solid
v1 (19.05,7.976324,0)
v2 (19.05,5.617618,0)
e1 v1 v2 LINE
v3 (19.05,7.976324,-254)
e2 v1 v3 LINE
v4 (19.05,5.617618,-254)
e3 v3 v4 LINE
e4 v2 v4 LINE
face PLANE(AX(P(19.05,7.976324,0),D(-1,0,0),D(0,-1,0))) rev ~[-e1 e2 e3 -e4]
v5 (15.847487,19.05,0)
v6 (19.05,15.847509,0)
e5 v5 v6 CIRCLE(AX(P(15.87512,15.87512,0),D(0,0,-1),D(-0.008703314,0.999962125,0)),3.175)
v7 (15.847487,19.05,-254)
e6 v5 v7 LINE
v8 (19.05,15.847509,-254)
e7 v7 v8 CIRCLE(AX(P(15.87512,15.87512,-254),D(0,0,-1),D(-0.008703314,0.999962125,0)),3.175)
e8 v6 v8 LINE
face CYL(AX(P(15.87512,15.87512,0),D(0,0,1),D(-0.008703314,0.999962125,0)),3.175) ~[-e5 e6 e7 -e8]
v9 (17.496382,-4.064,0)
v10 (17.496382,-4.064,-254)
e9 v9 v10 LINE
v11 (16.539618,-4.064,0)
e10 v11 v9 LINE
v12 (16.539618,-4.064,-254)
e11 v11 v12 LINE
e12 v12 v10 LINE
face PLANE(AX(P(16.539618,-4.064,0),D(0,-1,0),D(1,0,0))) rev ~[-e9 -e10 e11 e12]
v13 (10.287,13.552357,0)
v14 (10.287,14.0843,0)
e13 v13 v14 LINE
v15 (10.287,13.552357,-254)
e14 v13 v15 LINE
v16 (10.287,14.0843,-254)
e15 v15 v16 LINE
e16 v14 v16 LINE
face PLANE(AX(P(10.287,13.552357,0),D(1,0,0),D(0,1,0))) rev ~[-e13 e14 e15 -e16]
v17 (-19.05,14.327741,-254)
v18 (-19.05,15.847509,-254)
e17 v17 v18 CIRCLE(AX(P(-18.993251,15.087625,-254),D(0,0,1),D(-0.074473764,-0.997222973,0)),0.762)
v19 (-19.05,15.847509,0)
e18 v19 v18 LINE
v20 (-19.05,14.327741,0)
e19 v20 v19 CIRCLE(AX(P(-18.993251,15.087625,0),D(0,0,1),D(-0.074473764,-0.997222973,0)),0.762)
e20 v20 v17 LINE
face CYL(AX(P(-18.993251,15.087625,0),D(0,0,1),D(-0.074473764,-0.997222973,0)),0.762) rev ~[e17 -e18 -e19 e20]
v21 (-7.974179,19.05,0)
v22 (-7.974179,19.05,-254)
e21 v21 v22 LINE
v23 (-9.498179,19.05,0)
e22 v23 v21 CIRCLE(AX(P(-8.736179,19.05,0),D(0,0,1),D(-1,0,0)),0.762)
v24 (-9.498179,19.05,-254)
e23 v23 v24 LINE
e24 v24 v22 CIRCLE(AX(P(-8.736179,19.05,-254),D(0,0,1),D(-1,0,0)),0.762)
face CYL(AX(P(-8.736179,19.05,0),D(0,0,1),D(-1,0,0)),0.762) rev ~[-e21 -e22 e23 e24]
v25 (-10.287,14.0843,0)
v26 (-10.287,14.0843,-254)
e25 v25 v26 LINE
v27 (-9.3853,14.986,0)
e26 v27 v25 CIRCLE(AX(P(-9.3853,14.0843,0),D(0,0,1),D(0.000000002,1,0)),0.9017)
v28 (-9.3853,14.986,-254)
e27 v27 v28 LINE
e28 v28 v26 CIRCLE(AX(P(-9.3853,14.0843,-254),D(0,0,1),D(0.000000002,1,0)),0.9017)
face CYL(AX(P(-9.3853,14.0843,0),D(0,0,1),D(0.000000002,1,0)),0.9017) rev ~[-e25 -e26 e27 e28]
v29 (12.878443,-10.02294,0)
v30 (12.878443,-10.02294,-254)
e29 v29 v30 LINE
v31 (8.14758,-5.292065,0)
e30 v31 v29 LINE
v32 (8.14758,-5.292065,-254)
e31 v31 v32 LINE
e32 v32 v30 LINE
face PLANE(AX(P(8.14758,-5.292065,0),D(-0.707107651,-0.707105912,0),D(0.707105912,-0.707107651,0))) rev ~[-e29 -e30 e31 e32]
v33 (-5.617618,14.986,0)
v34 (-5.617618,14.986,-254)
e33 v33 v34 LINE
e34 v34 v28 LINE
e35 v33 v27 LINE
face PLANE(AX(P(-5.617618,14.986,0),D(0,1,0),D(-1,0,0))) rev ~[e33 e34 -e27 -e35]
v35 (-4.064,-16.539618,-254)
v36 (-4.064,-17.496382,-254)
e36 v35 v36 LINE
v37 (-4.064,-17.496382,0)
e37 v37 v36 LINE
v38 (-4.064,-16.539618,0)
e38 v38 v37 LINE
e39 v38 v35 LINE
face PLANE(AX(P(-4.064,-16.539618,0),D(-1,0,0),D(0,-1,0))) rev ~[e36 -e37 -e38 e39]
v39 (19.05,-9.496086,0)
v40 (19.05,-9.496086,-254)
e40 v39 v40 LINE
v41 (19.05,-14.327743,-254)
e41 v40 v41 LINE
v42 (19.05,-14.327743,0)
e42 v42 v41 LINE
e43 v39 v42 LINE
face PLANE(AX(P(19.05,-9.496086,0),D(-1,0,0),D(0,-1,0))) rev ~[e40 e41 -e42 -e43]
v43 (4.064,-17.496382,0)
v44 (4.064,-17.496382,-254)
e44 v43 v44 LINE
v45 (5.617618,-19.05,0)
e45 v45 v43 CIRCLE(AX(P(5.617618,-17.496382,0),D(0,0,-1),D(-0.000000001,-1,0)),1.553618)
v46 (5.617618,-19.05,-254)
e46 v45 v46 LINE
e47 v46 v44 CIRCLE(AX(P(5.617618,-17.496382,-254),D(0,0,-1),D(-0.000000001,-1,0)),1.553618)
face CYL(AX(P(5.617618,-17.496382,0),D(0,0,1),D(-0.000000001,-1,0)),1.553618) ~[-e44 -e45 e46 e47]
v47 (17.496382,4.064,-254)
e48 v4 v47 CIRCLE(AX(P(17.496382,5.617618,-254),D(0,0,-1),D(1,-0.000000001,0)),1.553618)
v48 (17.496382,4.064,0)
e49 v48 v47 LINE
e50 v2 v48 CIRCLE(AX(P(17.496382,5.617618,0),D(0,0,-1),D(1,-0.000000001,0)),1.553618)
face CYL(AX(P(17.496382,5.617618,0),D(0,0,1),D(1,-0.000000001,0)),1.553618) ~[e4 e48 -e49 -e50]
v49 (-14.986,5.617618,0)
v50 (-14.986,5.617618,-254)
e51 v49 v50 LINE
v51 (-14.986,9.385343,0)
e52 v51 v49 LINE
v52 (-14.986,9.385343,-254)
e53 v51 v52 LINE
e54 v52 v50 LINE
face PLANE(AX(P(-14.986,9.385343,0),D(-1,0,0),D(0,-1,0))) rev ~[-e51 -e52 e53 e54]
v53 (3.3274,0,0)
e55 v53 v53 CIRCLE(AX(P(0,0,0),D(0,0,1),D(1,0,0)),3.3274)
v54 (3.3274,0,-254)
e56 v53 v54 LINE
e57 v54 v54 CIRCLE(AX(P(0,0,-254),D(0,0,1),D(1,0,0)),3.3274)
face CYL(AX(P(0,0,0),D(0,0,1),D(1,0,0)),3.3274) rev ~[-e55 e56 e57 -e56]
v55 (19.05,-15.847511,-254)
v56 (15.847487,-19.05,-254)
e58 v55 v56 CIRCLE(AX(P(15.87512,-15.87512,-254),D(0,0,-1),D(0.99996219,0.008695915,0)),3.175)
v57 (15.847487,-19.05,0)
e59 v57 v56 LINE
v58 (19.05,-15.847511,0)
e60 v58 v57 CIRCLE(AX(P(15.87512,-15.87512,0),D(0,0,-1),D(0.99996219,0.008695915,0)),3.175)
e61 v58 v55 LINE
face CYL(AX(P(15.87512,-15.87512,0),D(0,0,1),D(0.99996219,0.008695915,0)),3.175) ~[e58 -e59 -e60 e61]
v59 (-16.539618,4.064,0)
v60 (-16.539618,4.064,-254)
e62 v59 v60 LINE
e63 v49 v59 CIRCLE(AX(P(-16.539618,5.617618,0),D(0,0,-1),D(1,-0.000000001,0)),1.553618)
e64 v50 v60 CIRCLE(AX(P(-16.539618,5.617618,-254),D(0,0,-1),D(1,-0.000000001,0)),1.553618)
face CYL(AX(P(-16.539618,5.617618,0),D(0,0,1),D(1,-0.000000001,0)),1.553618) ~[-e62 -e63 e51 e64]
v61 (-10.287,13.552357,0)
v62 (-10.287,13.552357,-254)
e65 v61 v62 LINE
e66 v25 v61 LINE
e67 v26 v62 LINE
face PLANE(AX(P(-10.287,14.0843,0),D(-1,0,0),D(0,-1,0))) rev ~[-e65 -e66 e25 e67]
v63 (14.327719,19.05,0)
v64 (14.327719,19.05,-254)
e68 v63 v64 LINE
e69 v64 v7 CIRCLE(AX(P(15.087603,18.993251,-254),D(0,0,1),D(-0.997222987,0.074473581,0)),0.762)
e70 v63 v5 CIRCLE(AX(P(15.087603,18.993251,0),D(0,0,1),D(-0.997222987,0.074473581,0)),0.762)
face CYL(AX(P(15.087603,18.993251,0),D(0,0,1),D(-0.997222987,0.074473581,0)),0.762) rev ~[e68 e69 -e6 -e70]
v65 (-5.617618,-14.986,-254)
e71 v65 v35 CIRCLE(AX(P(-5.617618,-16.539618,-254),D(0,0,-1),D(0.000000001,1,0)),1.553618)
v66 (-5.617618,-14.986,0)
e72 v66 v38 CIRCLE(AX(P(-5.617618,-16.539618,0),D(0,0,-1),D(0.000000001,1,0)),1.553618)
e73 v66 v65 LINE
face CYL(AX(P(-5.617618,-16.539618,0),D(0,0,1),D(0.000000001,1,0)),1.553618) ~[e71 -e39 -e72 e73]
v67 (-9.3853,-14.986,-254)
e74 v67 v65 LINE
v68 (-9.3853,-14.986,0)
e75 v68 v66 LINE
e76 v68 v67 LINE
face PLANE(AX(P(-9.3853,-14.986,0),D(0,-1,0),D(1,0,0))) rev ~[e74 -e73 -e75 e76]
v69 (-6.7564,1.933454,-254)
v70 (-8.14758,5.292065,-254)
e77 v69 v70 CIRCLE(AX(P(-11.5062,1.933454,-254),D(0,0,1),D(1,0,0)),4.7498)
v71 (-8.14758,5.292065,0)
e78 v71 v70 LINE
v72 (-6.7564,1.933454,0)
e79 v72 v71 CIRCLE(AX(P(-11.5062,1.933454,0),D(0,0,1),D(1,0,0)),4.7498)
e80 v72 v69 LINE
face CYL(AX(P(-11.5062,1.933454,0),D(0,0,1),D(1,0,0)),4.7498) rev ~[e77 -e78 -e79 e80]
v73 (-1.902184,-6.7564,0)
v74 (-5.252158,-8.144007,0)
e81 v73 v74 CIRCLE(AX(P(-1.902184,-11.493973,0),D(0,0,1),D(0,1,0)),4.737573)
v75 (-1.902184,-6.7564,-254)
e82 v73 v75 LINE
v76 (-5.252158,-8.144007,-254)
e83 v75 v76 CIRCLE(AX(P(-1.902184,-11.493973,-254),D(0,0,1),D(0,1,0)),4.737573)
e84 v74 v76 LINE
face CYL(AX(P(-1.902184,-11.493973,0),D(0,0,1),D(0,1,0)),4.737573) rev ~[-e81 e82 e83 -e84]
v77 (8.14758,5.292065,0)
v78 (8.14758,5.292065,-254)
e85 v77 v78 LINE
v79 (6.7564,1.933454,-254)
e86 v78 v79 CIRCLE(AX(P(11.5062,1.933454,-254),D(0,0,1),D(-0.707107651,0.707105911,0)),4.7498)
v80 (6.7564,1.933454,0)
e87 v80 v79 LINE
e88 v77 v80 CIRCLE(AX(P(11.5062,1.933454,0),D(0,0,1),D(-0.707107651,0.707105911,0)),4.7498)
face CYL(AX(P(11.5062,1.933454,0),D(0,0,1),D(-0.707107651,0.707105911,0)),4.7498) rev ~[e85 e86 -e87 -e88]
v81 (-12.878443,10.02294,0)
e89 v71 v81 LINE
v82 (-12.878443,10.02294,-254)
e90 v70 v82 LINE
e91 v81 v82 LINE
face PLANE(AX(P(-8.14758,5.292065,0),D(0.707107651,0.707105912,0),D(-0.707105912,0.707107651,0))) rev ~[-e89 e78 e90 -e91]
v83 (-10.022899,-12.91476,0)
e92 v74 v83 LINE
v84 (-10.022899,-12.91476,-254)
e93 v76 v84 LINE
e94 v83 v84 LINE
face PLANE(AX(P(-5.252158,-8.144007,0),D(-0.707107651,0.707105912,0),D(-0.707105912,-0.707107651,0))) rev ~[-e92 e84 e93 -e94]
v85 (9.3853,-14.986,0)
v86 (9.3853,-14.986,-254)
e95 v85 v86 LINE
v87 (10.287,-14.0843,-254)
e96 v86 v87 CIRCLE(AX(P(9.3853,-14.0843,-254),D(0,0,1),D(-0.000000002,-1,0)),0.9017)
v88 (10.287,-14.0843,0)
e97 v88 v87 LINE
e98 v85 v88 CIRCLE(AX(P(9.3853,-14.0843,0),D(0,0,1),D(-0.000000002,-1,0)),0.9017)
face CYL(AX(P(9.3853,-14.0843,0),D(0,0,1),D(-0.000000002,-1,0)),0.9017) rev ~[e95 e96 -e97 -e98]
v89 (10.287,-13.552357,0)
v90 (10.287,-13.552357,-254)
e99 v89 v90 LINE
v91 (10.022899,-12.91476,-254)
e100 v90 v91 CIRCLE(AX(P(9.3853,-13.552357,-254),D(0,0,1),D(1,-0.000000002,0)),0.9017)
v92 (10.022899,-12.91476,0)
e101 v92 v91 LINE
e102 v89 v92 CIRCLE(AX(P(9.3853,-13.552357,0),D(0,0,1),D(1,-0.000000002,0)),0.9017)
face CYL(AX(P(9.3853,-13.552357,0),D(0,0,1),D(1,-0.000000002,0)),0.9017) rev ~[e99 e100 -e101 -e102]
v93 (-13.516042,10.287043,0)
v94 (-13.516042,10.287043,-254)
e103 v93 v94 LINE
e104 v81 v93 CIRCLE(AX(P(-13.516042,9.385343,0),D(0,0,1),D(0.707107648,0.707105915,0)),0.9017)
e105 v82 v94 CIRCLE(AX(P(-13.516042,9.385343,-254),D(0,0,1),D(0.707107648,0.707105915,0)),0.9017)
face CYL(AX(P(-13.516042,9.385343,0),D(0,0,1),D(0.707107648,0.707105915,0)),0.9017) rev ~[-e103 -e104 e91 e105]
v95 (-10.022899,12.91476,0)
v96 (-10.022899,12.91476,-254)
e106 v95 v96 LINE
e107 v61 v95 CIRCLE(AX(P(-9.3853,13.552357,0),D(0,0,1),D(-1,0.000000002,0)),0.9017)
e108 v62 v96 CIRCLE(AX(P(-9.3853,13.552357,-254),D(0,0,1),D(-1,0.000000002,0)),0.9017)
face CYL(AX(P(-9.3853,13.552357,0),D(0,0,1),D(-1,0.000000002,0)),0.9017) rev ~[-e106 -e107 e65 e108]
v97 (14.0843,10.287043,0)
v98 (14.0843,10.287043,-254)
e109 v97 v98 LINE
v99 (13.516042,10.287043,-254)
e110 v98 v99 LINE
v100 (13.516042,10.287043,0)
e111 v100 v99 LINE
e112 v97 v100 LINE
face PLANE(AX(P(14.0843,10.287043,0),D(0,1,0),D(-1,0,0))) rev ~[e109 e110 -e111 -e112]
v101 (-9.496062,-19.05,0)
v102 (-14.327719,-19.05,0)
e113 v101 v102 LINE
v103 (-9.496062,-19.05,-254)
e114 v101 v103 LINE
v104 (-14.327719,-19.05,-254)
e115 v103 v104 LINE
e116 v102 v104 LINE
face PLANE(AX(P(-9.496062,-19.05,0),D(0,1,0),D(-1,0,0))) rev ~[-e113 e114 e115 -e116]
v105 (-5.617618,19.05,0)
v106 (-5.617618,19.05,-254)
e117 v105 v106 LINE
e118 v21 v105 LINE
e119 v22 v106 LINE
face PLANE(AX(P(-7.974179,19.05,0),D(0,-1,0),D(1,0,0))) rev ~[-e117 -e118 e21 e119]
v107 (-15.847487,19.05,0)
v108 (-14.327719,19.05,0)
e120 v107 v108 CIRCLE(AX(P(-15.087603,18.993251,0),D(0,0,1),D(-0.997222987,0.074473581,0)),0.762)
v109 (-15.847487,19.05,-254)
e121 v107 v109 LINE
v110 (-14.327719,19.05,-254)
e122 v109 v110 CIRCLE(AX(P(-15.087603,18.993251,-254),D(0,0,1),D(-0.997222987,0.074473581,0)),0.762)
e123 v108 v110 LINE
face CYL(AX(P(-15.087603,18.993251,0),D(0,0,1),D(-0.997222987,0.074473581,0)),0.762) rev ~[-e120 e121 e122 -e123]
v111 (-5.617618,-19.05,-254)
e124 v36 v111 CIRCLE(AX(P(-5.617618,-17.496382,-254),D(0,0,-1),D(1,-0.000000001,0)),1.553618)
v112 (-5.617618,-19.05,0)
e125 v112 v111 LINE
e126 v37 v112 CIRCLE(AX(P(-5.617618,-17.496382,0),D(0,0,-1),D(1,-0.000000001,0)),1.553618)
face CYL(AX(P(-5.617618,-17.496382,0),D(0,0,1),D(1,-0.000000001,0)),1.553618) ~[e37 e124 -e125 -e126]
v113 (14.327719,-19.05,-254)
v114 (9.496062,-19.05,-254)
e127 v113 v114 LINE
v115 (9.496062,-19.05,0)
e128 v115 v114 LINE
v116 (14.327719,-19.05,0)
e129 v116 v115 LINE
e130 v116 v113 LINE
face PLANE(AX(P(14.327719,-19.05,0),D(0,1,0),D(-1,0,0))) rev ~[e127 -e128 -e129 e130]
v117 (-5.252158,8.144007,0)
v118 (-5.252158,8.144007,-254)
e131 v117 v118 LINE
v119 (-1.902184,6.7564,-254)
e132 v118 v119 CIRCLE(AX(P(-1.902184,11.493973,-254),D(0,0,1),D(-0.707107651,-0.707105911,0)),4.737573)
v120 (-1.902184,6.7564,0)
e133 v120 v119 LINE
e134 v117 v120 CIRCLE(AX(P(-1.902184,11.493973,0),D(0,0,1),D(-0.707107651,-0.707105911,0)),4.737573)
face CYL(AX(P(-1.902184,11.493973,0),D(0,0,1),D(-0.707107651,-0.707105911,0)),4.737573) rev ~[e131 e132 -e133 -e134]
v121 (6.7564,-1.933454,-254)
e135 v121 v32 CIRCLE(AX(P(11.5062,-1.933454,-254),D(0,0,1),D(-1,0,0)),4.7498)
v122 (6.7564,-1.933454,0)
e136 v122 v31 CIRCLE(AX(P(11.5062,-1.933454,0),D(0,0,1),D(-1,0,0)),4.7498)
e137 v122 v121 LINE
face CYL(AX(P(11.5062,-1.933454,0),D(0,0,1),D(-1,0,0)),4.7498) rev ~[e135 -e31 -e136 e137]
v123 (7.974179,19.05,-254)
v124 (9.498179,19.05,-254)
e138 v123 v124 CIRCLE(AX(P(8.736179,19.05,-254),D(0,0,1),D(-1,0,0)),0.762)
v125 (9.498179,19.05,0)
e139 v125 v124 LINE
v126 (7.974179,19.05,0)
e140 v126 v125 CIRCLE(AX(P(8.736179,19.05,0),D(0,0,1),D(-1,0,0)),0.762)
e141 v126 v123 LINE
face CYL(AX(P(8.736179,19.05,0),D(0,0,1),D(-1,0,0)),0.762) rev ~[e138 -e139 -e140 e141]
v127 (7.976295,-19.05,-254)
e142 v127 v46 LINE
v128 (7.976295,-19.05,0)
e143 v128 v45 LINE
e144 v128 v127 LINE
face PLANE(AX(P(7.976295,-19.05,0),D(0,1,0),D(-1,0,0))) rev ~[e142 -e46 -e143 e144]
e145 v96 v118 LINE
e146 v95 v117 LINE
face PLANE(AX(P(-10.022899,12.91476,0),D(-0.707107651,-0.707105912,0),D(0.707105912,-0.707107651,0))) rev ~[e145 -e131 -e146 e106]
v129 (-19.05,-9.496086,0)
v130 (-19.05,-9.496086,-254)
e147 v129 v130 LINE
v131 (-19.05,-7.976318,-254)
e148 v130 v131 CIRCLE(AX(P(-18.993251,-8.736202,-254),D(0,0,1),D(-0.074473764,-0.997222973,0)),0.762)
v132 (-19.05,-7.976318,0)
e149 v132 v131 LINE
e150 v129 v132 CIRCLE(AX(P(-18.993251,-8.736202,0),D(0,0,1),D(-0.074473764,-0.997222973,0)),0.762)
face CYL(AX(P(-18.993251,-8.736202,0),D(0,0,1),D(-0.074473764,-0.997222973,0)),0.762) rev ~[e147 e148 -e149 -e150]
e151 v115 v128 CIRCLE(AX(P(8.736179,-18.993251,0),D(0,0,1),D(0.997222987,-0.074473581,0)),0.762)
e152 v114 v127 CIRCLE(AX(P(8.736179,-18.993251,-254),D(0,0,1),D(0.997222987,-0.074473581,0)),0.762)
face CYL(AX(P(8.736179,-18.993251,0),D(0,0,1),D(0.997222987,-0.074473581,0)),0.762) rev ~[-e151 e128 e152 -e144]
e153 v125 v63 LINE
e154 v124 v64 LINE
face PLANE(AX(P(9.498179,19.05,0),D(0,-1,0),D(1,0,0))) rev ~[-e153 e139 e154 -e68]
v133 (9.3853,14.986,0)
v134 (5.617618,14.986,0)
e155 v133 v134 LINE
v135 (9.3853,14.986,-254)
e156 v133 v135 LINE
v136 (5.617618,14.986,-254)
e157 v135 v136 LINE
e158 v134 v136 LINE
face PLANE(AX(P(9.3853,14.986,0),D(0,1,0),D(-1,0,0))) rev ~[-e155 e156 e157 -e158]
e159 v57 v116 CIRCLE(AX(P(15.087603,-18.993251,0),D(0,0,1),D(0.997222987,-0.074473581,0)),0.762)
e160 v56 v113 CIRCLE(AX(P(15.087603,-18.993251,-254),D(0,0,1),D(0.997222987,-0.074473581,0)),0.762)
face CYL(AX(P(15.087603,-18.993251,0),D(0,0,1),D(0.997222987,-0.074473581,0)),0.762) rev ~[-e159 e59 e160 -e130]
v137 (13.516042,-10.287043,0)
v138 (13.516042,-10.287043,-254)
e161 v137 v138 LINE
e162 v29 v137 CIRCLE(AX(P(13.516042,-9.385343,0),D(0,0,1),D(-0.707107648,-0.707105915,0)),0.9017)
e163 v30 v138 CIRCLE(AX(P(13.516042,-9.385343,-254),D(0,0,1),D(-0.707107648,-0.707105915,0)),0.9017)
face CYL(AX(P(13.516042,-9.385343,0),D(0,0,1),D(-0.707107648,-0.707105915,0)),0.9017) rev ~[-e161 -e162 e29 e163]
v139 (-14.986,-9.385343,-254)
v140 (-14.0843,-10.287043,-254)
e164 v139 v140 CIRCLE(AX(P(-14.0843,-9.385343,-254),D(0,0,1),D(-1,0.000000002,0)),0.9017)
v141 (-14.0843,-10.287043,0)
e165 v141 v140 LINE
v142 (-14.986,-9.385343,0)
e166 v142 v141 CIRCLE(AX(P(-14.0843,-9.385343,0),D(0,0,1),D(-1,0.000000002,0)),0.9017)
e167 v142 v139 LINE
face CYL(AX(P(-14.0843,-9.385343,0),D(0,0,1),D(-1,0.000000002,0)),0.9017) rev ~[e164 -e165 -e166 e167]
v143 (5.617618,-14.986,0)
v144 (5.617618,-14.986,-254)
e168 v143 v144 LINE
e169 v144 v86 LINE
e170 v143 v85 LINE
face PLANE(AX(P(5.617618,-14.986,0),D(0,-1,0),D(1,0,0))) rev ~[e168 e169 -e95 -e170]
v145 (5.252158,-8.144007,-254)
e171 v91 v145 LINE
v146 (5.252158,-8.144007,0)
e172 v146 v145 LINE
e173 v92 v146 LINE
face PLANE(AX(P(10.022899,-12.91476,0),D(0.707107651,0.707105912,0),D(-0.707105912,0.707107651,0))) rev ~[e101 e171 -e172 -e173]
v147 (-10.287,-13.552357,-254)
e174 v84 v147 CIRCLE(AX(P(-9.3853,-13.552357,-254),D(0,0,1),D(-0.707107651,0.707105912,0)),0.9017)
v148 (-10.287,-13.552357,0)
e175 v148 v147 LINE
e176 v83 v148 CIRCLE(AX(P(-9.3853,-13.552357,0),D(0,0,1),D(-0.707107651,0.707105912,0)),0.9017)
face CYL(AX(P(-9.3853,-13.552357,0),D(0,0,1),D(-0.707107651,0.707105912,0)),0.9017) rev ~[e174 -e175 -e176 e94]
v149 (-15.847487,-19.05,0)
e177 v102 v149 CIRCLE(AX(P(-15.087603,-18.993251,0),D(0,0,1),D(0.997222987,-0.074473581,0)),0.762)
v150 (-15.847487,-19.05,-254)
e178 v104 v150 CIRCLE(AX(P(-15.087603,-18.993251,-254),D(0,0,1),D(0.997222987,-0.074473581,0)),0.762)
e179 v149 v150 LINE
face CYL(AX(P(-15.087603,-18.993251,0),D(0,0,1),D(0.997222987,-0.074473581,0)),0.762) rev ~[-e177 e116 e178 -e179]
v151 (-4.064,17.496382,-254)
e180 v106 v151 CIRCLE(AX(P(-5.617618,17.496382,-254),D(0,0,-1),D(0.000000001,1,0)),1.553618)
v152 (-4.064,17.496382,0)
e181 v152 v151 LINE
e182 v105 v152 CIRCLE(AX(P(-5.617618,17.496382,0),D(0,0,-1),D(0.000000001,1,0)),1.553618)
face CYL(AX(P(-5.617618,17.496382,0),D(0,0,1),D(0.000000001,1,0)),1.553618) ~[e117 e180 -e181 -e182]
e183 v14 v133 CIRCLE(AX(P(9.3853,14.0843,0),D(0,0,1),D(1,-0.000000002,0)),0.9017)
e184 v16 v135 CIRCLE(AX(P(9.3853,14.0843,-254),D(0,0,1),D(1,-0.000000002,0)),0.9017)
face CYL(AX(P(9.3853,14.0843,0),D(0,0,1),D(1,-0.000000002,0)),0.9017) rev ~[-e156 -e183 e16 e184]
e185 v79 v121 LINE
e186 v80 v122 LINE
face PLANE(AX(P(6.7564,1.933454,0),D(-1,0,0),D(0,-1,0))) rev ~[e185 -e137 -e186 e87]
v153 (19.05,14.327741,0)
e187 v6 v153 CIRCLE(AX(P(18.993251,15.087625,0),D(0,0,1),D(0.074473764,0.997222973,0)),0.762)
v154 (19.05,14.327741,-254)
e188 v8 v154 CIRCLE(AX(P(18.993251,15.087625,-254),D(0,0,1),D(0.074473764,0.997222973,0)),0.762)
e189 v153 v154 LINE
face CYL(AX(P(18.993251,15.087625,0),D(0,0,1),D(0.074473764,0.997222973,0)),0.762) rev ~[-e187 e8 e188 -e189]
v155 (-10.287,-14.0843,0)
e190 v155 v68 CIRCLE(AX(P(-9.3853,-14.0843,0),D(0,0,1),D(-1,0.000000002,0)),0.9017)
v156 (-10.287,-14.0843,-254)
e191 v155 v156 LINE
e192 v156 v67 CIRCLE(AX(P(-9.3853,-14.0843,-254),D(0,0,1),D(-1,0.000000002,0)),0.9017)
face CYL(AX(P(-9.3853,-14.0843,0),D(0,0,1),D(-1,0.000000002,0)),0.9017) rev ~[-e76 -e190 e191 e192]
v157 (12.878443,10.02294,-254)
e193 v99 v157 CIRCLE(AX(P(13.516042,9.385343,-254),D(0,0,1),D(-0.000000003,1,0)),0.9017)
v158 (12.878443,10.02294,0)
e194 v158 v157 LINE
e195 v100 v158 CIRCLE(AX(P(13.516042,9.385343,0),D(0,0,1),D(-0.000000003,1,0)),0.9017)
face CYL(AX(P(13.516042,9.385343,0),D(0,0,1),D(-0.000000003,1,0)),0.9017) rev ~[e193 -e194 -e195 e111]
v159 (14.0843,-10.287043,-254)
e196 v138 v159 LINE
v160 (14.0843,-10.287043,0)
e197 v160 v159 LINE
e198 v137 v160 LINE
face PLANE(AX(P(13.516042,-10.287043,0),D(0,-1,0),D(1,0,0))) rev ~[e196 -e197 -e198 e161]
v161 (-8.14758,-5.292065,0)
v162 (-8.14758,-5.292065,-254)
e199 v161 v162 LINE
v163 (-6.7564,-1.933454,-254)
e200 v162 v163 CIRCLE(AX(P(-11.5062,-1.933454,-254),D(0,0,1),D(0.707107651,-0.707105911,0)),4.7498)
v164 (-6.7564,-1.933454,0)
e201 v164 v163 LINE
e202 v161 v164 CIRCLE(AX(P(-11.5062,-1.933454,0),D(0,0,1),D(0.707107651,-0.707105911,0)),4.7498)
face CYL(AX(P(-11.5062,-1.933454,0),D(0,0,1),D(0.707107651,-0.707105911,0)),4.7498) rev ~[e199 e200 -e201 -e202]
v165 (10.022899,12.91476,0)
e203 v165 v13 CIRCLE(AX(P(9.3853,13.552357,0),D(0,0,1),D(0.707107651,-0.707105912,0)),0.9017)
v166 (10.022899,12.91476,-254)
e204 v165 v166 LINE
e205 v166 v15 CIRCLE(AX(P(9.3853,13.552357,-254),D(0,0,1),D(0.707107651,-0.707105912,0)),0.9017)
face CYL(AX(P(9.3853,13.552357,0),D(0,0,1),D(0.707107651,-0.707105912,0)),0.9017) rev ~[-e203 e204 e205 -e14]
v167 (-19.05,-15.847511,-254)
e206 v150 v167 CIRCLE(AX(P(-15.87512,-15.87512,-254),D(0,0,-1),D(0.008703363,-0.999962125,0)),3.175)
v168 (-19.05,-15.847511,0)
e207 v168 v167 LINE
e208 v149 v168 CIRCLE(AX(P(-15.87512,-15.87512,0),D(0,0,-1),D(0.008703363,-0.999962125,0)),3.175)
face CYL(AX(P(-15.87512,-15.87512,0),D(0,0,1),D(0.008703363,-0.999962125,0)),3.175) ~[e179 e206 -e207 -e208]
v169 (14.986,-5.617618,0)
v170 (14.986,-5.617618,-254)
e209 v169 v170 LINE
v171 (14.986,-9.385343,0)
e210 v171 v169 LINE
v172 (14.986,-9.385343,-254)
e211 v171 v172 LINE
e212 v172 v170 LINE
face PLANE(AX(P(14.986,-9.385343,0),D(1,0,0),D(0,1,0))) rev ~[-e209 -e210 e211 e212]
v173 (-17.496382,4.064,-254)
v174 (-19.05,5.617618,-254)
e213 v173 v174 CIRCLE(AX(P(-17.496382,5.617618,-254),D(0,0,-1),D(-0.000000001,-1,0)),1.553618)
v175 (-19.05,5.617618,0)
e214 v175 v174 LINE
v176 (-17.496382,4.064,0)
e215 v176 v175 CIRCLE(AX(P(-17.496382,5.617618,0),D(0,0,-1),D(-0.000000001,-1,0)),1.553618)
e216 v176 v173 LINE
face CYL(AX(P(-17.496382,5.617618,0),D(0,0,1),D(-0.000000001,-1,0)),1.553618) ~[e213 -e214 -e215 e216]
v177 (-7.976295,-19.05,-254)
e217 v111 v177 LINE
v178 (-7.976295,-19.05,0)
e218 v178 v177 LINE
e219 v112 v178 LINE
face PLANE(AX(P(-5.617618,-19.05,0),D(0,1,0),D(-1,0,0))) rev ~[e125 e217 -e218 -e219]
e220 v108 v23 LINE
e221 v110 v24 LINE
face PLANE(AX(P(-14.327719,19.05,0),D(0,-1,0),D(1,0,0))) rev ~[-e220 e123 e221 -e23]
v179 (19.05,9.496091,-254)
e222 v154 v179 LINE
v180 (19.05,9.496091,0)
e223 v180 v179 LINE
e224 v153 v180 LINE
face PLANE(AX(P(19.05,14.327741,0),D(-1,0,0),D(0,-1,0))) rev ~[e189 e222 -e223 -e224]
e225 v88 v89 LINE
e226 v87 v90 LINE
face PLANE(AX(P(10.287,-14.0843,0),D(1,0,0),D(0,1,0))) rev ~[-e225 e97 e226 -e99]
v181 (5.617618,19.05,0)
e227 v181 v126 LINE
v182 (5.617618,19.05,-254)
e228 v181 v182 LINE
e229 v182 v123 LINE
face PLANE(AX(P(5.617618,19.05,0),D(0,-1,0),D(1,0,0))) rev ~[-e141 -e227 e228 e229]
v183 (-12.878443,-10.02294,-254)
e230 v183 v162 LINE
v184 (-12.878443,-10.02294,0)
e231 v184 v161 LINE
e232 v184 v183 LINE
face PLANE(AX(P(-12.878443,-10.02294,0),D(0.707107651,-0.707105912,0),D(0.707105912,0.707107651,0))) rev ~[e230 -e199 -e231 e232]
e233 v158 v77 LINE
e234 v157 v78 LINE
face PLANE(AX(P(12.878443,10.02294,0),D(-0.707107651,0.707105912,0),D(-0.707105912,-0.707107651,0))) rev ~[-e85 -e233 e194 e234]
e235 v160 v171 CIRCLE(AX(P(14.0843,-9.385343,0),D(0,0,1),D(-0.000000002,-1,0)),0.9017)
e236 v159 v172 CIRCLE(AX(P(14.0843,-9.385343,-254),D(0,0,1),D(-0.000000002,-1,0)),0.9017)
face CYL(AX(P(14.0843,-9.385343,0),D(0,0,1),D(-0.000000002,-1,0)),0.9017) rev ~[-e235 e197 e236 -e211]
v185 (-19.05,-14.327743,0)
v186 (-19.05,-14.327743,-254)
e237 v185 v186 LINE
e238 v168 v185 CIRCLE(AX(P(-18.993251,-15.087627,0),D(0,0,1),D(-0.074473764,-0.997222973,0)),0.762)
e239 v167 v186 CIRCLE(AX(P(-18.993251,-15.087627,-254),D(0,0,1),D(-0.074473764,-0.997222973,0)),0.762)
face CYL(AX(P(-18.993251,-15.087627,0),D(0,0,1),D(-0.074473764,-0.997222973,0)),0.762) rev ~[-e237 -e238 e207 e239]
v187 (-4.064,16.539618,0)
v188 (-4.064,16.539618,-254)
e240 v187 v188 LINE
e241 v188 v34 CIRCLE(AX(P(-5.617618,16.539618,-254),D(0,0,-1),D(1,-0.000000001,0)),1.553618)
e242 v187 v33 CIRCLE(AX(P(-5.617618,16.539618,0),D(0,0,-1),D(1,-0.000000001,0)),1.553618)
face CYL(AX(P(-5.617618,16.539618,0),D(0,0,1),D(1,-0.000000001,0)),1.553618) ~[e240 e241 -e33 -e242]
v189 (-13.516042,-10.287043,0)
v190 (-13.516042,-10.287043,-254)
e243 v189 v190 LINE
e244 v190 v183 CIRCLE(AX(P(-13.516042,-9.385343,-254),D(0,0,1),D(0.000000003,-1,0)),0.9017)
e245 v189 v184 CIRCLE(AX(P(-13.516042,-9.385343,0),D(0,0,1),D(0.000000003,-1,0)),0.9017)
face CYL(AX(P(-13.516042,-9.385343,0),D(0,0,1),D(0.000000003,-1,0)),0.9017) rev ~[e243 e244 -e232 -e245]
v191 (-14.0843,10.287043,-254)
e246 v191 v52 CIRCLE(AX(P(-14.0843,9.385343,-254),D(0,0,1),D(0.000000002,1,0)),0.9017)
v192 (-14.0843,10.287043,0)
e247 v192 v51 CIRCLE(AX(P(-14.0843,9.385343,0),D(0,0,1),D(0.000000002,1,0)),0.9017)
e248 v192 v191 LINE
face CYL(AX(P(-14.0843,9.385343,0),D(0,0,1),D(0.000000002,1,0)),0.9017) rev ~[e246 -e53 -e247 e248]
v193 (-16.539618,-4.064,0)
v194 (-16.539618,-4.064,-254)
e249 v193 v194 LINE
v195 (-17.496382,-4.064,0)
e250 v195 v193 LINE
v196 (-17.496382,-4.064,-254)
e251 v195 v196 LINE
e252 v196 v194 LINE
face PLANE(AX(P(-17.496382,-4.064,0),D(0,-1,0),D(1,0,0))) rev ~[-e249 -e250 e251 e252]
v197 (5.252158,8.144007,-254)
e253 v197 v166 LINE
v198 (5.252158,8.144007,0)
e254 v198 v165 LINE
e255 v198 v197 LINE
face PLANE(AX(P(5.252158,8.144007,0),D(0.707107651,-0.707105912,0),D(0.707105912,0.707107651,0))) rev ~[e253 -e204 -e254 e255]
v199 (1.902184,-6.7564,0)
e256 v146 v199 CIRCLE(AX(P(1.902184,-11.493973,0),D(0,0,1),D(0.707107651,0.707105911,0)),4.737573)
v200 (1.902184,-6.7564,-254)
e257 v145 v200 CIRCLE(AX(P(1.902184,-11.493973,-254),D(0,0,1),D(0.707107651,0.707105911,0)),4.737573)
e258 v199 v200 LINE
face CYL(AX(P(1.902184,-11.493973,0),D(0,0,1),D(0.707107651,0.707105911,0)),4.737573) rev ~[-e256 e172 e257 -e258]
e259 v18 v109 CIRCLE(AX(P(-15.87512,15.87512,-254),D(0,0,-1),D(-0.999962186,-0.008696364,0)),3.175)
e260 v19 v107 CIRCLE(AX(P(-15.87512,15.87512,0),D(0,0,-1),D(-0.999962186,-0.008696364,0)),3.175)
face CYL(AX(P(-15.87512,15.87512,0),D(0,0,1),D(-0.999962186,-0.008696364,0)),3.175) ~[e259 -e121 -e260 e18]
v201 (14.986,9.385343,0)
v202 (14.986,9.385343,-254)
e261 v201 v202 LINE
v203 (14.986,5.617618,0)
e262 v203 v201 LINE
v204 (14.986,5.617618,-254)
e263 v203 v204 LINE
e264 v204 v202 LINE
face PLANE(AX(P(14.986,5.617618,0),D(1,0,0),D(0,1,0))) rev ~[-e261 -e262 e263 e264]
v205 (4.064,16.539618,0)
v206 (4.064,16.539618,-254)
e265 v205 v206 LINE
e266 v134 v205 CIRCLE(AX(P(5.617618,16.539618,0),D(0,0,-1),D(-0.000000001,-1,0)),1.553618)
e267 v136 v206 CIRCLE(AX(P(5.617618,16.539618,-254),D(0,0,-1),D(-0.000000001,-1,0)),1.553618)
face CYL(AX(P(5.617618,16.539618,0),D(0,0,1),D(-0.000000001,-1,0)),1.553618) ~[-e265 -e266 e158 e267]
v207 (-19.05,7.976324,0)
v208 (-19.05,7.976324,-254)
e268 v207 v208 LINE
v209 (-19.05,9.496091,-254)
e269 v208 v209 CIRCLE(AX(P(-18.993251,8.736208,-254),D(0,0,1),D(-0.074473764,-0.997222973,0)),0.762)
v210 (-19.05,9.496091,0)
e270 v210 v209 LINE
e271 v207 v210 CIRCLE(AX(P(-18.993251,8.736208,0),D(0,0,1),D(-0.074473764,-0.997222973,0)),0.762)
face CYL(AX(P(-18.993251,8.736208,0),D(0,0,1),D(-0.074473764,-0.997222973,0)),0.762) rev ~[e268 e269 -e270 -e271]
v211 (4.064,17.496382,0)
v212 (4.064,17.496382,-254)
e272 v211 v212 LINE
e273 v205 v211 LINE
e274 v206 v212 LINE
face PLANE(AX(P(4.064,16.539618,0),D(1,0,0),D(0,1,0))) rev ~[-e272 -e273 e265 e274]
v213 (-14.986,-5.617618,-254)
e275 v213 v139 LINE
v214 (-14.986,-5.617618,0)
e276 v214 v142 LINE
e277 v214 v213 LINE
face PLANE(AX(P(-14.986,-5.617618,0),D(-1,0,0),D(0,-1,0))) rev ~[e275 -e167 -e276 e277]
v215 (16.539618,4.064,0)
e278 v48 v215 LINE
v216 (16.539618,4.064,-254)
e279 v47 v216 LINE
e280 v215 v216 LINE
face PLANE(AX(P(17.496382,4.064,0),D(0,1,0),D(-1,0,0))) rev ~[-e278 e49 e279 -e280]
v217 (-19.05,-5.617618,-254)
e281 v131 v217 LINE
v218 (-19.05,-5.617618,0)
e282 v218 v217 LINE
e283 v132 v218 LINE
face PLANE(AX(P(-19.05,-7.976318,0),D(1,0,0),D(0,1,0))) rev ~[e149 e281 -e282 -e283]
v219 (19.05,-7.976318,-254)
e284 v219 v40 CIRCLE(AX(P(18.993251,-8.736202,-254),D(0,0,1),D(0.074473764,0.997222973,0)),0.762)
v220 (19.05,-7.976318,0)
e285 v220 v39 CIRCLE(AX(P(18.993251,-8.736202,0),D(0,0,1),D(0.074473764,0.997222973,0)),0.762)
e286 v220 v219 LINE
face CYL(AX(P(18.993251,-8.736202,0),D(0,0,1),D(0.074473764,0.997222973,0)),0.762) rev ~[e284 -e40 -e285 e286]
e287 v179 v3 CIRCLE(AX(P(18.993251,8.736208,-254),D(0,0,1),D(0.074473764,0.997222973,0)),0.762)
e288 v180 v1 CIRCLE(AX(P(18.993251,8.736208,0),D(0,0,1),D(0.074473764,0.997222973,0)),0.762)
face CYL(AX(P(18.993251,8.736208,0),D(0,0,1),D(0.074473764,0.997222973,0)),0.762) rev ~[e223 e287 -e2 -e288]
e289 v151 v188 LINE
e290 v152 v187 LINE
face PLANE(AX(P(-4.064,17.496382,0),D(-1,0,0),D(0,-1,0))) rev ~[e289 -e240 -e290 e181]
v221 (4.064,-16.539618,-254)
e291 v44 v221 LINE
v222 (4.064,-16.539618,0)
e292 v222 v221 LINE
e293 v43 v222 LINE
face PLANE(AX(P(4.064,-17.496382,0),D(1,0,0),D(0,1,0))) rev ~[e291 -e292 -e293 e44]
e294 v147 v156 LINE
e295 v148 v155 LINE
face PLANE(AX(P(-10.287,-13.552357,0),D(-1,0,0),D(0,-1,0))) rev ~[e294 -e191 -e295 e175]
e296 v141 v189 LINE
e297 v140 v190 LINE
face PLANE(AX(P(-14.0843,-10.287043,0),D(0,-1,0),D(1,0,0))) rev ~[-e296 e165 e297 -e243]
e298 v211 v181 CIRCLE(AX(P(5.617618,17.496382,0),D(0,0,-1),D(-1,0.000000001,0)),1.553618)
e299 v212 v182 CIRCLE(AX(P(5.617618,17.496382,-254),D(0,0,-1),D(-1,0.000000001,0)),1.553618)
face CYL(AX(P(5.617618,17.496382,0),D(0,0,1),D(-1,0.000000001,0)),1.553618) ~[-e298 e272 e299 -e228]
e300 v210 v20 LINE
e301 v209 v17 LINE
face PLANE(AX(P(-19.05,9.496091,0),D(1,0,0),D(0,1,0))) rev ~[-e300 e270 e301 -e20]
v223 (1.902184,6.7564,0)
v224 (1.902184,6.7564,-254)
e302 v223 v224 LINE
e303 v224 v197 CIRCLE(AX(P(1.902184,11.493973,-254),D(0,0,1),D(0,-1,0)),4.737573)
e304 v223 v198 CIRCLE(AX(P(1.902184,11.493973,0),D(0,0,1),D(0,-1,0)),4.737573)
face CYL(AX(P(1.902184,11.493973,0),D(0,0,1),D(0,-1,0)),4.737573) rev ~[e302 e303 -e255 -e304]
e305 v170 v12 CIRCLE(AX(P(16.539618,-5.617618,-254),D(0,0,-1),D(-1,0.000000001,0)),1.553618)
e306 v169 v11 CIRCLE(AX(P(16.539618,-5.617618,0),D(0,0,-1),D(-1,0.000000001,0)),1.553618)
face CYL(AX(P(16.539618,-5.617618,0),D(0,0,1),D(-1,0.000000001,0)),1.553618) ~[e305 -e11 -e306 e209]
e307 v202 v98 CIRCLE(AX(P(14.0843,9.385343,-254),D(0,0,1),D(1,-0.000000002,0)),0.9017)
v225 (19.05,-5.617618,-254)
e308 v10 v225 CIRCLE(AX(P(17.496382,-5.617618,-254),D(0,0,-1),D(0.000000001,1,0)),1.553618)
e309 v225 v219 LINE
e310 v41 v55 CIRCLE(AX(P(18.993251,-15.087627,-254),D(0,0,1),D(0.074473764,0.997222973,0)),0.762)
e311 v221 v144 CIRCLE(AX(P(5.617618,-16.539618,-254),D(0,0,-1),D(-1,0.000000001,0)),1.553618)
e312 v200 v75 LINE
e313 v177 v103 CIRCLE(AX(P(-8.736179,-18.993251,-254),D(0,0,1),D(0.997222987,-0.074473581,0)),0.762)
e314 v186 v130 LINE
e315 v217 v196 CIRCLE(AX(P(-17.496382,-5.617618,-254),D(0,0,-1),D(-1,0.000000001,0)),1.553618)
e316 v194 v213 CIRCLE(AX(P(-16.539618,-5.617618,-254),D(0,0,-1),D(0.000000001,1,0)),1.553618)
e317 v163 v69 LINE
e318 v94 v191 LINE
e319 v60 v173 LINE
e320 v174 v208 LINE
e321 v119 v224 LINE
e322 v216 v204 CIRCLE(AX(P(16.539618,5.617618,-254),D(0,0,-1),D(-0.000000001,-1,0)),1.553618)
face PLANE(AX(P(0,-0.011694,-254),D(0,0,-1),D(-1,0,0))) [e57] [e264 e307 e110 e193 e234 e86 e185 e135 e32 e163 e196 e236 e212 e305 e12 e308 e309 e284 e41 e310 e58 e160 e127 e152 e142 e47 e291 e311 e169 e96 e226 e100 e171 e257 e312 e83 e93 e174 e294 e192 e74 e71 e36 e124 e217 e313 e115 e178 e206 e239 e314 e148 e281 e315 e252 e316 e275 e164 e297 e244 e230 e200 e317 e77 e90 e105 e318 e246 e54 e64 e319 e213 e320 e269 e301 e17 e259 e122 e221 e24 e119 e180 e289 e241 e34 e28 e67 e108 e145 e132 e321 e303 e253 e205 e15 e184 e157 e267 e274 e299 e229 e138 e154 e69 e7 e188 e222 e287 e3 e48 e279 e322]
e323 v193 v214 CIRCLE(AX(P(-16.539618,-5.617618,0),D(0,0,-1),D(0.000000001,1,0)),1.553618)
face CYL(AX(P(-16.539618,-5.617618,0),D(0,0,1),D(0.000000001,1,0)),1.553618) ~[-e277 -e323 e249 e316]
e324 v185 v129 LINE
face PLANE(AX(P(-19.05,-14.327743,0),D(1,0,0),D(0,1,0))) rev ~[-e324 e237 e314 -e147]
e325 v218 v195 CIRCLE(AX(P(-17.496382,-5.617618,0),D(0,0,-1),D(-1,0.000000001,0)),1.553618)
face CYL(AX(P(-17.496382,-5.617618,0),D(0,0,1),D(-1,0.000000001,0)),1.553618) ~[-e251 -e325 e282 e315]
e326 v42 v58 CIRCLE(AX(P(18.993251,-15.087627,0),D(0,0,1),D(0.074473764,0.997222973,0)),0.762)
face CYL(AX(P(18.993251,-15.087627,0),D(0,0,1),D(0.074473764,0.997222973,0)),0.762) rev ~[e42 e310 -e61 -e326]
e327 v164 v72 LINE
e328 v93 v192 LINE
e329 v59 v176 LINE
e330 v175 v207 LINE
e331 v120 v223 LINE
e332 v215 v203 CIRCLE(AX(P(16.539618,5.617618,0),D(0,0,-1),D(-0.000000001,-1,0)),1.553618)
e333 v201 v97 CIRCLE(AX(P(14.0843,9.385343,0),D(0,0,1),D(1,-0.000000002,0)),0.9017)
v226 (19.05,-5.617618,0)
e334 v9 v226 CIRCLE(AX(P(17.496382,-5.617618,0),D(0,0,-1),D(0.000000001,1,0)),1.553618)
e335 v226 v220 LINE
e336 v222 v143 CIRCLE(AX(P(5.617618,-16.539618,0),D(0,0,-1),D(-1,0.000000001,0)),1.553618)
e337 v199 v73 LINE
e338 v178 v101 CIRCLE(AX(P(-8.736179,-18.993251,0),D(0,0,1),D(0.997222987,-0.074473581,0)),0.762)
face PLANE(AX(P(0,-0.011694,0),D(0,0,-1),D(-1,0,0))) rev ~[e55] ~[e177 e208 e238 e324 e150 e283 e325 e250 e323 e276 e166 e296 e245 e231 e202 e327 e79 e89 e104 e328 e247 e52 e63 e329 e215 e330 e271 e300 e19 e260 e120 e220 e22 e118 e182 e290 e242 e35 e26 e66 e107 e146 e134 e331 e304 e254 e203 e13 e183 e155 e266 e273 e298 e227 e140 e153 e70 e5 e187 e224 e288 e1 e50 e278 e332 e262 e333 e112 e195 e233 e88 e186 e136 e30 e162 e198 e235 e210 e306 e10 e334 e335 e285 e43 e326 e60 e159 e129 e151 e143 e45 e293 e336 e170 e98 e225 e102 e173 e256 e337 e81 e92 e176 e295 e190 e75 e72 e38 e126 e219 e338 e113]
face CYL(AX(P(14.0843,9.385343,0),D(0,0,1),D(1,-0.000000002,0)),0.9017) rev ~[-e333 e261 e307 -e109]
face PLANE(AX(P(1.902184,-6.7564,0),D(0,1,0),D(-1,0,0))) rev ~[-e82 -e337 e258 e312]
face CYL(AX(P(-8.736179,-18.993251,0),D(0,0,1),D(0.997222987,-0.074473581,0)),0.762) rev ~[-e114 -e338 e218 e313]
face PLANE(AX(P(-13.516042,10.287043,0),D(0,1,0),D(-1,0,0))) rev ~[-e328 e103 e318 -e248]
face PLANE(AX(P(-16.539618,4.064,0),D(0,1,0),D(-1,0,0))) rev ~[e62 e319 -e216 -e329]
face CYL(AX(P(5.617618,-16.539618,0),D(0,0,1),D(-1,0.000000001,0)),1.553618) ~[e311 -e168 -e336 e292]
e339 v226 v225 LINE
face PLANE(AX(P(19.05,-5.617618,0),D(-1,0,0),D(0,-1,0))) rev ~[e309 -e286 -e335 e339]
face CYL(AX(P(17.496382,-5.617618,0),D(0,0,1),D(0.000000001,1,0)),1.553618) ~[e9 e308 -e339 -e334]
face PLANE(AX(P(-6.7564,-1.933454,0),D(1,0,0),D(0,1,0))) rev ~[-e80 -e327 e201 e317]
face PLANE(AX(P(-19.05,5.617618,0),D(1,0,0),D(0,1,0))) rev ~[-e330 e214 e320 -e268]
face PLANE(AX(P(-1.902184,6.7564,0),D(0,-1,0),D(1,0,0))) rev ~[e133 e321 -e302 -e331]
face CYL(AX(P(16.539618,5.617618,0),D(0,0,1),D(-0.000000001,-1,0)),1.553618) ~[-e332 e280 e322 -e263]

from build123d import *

# Parameters (mm, degrees)
SKETCH1_R      = 3.3274
EXTRUDE1_DEPTH = 254


with BuildPart() as part:
    # Sketch1 → Extrude1 (new body)
    with BuildSketch(Plane.XY):
        with BuildLine():
            Line((-10.022898969, 12.91475973), (-5.252158105, 8.144007132))
            ThreePointArc((-5.252158105, 8.144007132), (-3.715177372, 7.117027388), (-1.902183975, 6.7564))
            Line((-1.902183975, 6.7564), (1.902183975, 6.7564))
            ThreePointArc((1.902183975, 6.7564), (3.715177372, 7.117027388), (5.252158105, 8.144007132))
            Line((5.252158105, 8.144007132), (10.022898969, 12.91475973))
            ThreePointArc((10.022898969, 12.91475973), (10.218362387, 13.207291992), (10.287, 13.552357131))
            Line((10.287, 13.552357131), (10.287, 14.0843))
            ThreePointArc((10.287, 14.0843), (10.022898185, 14.721898185), (9.3853, 14.986))
            Line((9.3853, 14.986), (5.617617549, 14.986))
            ThreePointArc((5.617617549, 14.986), (4.519044045, 15.441044045), (4.064, 16.539617549))
            Line((4.064, 16.539617549), (4.064, 17.496382451))
            ThreePointArc((4.064, 17.496382451), (4.519044045, 18.594955955), (5.617617549, 19.05))
            Line((5.617617549, 19.05), (7.974178704, 19.05))
            ThreePointArc((7.974178704, 19.05), (8.736178704, 18.288), (9.498178704, 19.05))
            Line((9.498178704, 19.05), (14.327719207, 19.05))
            ThreePointArc((14.327719207, 19.05), (15.087603123, 18.231251131), (15.847487039, 19.05))
            ThreePointArc((15.847487039, 19.05), (18.120176289, 18.120192083), (19.05, 15.847509295))
            ThreePointArc((19.05, 15.847509295), (18.231250992, 15.08762539), (19.05, 14.327741484))
            Line((19.05, 14.327741484), (19.05, 9.496091471))
            ThreePointArc((19.05, 9.496091471), (18.231250992, 8.736207565), (19.05, 7.97632366))
            Line((19.05, 7.97632366), (19.05, 5.617617549))
            ThreePointArc((19.05, 5.617617549), (18.594955955, 4.519044045), (17.496382451, 4.064))
            Line((17.496382451, 4.064), (16.539617549, 4.064))
            ThreePointArc((16.539617549, 4.064), (15.441044045, 4.519044045), (14.986, 5.617617549))
            Line((14.986, 5.617617549), (14.986, 9.385342516))
            ThreePointArc((14.986, 9.385342516), (14.721898185, 10.022940701), (14.0843, 10.287042516))
            Line((14.0843, 10.287042516), (13.516042086, 10.287042516))
            ThreePointArc((13.516042086, 10.287042516), (13.170975923, 10.218404478), (12.878443117, 10.022939917))
            Line((12.878443117, 10.022939917), (8.14758008, 5.292065243))
            ThreePointArc((8.14758008, 5.292065243), (7.117955879, 3.751120653), (6.7564, 1.933453584))
            Line((6.7564, 1.933453584), (6.7564, -1.933453584))
            ThreePointArc((6.7564, -1.933453584), (7.117955879, -3.751120653), (8.14758008, -5.292065243))
            Line((8.14758008, -5.292065243), (12.878443117, -10.022939917))
            ThreePointArc((12.878443117, -10.022939917), (13.170975923, -10.218404478), (13.516042086, -10.287042516))
            Line((13.516042086, -10.287042516), (14.0843, -10.287042516))
            ThreePointArc((14.0843, -10.287042516), (14.721898185, -10.022940701), (14.986, -9.385342516))
            Line((14.986, -9.385342516), (14.986, -5.617617549))
            ThreePointArc((14.986, -5.617617549), (15.441044045, -4.519044045), (16.539617549, -4.064))
            Line((16.539617549, -4.064), (17.496382451, -4.064))
            ThreePointArc((17.496382451, -4.064), (18.594955955, -4.519044045), (19.05, -5.617617549))
            Line((19.05, -5.617617549), (19.05, -7.976318491))
            ThreePointArc((19.05, -7.976318491), (18.231250992, -8.736202396), (19.05, -9.496086302))
            Line((19.05, -9.496086302), (19.05, -14.32774291))
            ThreePointArc((19.05, -14.32774291), (18.231250992, -15.087626816), (19.05, -15.847510721))
            ThreePointArc((19.05, -15.847510721), (18.120175716, -18.120192644), (15.847486868, -19.05))
            ThreePointArc((15.847486868, -19.05), (15.087602952, -18.231251131), (14.327719036, -19.05))
            Line((14.327719036, -19.05), (9.496062448, -19.05))
            ThreePointArc((9.496062448, -19.05), (8.736178532, -18.231251131), (7.976294616, -19.05))
            Line((7.976294616, -19.05), (5.617617549, -19.05))
            ThreePointArc((5.617617549, -19.05), (4.519044045, -18.594955955), (4.064, -17.496382451))
            Line((4.064, -17.496382451), (4.064, -16.539617549))
            ThreePointArc((4.064, -16.539617549), (4.519044045, -15.441044045), (5.617617549, -14.986))
            Line((5.617617549, -14.986), (9.3853, -14.986))
            ThreePointArc((9.3853, -14.986), (10.022898185, -14.721898185), (10.287, -14.0843))
            Line((10.287, -14.0843), (10.287, -13.552357131))
            ThreePointArc((10.287, -13.552357131), (10.218362387, -13.207291992), (10.022898969, -12.91475973))
            Line((10.022898969, -12.91475973), (5.252158105, -8.144007132))
            ThreePointArc((5.252158105, -8.144007132), (3.715177372, -7.117027388), (1.902183975, -6.7564))
            Line((1.902183975, -6.7564), (-1.902183975, -6.7564))
            ThreePointArc((-1.902183975, -6.7564), (-3.715177372, -7.117027388), (-5.252158105, -8.144007132))
            Line((-5.252158105, -8.144007132), (-10.022898969, -12.91475973))
            ThreePointArc((-10.022898969, -12.91475973), (-10.218362387, -13.207291992), (-10.287, -13.552357131))
            Line((-10.287, -13.552357131), (-10.287, -14.0843))
            ThreePointArc((-10.287, -14.0843), (-10.022898185, -14.721898185), (-9.3853, -14.986))
            Line((-9.3853, -14.986), (-5.617617549, -14.986))
            ThreePointArc((-5.617617549, -14.986), (-4.519044045, -15.441044045), (-4.064, -16.539617549))
            Line((-4.064, -16.539617549), (-4.064, -17.496382451))
            ThreePointArc((-4.064, -17.496382451), (-4.519044045, -18.594955955), (-5.617617549, -19.05))
            Line((-5.617617549, -19.05), (-7.976294616, -19.05))
            ThreePointArc((-7.976294616, -19.05), (-8.736178532, -18.231251131), (-9.496062448, -19.05))
            Line((-9.496062448, -19.05), (-14.327719036, -19.05))
            ThreePointArc((-14.327719036, -19.05), (-15.087602952, -18.231251131), (-15.847486868, -19.05))
            ThreePointArc((-15.847486868, -19.05), (-18.120175716, -18.120192644), (-19.05, -15.847510721))
            ThreePointArc((-19.05, -15.847510721), (-18.231250992, -15.087626816), (-19.05, -14.32774291))
            Line((-19.05, -14.32774291), (-19.05, -9.496086302))
            ThreePointArc((-19.05, -9.496086302), (-18.231250992, -8.736202396), (-19.05, -7.976318491))
            Line((-19.05, -7.976318491), (-19.05, -5.617617549))
            ThreePointArc((-19.05, -5.617617549), (-18.594955955, -4.519044045), (-17.496382451, -4.064))
            Line((-17.496382451, -4.064), (-16.539617549, -4.064))
            ThreePointArc((-16.539617549, -4.064), (-15.441044045, -4.519044045), (-14.986, -5.617617549))
            Line((-14.986, -5.617617549), (-14.986, -9.385342516))
            ThreePointArc((-14.986, -9.385342516), (-14.721898185, -10.022940701), (-14.0843, -10.287042516))
            Line((-14.0843, -10.287042516), (-13.516042086, -10.287042516))
            ThreePointArc((-13.516042086, -10.287042516), (-13.170975923, -10.218404478), (-12.878443117, -10.022939917))
            Line((-12.878443117, -10.022939917), (-8.14758008, -5.292065243))
            ThreePointArc((-8.14758008, -5.292065243), (-7.117955879, -3.751120653), (-6.7564, -1.933453584))
            Line((-6.7564, -1.933453584), (-6.7564, 1.933453584))
            ThreePointArc((-6.7564, 1.933453584), (-7.117955879, 3.751120653), (-8.14758008, 5.292065243))
            Line((-8.14758008, 5.292065243), (-12.878443117, 10.022939917))
            ThreePointArc((-12.878443117, 10.022939917), (-13.170975923, 10.218404478), (-13.516042086, 10.287042516))
            Line((-13.516042086, 10.287042516), (-14.0843, 10.287042516))
            ThreePointArc((-14.0843, 10.287042516), (-14.721898185, 10.022940701), (-14.986, 9.385342516))
            Line((-14.986, 9.385342516), (-14.986, 5.617617549))
            ThreePointArc((-14.986, 5.617617549), (-15.441044045, 4.519044045), (-16.539617549, 4.064))
            Line((-16.539617549, 4.064), (-17.496382451, 4.064))
            ThreePointArc((-17.496382451, 4.064), (-18.594955955, 4.519044045), (-19.05, 5.617617549))
            Line((-19.05, 5.617617549), (-19.05, 7.97632366))
            ThreePointArc((-19.05, 7.97632366), (-18.231250992, 8.736207565), (-19.05, 9.496091471))
            Line((-19.05, 9.496091471), (-19.05, 14.327741484))
            ThreePointArc((-19.05, 14.327741484), (-18.231250992, 15.08762539), (-19.05, 15.847509295))
            ThreePointArc((-19.05, 15.847509295), (-18.120176289, 18.120192083), (-15.847487039, 19.05))
            ThreePointArc((-15.847487039, 19.05), (-15.087603123, 18.231251131), (-14.327719207, 19.05))
            Line((-14.327719207, 19.05), (-9.498178704, 19.05))
            ThreePointArc((-9.498178704, 19.05), (-8.736178704, 18.288), (-7.974178704, 19.05))
            Line((-7.974178704, 19.05), (-5.617617549, 19.05))
            ThreePointArc((-5.617617549, 19.05), (-4.519044045, 18.594955955), (-4.064, 17.496382451))
            Line((-4.064, 17.496382451), (-4.064, 16.539617549))
            ThreePointArc((-4.064, 16.539617549), (-4.519044045, 15.441044045), (-5.617617549, 14.986))
            Line((-5.617617549, 14.986), (-9.3853, 14.986))
            ThreePointArc((-9.3853, 14.986), (-10.022898185, 14.721898185), (-10.287, 14.0843))
            Line((-10.287, 14.0843), (-10.287, 13.552357131))
            ThreePointArc((-10.287, 13.552357131), (-10.218362387, 13.207291992), (-10.022898969, 12.91475973))
        make_face()
        Circle(SKETCH1_R, mode=Mode.SUBTRACT)
    extrude(amount=-EXTRUDE1_DEPTH)


solid = part.part
